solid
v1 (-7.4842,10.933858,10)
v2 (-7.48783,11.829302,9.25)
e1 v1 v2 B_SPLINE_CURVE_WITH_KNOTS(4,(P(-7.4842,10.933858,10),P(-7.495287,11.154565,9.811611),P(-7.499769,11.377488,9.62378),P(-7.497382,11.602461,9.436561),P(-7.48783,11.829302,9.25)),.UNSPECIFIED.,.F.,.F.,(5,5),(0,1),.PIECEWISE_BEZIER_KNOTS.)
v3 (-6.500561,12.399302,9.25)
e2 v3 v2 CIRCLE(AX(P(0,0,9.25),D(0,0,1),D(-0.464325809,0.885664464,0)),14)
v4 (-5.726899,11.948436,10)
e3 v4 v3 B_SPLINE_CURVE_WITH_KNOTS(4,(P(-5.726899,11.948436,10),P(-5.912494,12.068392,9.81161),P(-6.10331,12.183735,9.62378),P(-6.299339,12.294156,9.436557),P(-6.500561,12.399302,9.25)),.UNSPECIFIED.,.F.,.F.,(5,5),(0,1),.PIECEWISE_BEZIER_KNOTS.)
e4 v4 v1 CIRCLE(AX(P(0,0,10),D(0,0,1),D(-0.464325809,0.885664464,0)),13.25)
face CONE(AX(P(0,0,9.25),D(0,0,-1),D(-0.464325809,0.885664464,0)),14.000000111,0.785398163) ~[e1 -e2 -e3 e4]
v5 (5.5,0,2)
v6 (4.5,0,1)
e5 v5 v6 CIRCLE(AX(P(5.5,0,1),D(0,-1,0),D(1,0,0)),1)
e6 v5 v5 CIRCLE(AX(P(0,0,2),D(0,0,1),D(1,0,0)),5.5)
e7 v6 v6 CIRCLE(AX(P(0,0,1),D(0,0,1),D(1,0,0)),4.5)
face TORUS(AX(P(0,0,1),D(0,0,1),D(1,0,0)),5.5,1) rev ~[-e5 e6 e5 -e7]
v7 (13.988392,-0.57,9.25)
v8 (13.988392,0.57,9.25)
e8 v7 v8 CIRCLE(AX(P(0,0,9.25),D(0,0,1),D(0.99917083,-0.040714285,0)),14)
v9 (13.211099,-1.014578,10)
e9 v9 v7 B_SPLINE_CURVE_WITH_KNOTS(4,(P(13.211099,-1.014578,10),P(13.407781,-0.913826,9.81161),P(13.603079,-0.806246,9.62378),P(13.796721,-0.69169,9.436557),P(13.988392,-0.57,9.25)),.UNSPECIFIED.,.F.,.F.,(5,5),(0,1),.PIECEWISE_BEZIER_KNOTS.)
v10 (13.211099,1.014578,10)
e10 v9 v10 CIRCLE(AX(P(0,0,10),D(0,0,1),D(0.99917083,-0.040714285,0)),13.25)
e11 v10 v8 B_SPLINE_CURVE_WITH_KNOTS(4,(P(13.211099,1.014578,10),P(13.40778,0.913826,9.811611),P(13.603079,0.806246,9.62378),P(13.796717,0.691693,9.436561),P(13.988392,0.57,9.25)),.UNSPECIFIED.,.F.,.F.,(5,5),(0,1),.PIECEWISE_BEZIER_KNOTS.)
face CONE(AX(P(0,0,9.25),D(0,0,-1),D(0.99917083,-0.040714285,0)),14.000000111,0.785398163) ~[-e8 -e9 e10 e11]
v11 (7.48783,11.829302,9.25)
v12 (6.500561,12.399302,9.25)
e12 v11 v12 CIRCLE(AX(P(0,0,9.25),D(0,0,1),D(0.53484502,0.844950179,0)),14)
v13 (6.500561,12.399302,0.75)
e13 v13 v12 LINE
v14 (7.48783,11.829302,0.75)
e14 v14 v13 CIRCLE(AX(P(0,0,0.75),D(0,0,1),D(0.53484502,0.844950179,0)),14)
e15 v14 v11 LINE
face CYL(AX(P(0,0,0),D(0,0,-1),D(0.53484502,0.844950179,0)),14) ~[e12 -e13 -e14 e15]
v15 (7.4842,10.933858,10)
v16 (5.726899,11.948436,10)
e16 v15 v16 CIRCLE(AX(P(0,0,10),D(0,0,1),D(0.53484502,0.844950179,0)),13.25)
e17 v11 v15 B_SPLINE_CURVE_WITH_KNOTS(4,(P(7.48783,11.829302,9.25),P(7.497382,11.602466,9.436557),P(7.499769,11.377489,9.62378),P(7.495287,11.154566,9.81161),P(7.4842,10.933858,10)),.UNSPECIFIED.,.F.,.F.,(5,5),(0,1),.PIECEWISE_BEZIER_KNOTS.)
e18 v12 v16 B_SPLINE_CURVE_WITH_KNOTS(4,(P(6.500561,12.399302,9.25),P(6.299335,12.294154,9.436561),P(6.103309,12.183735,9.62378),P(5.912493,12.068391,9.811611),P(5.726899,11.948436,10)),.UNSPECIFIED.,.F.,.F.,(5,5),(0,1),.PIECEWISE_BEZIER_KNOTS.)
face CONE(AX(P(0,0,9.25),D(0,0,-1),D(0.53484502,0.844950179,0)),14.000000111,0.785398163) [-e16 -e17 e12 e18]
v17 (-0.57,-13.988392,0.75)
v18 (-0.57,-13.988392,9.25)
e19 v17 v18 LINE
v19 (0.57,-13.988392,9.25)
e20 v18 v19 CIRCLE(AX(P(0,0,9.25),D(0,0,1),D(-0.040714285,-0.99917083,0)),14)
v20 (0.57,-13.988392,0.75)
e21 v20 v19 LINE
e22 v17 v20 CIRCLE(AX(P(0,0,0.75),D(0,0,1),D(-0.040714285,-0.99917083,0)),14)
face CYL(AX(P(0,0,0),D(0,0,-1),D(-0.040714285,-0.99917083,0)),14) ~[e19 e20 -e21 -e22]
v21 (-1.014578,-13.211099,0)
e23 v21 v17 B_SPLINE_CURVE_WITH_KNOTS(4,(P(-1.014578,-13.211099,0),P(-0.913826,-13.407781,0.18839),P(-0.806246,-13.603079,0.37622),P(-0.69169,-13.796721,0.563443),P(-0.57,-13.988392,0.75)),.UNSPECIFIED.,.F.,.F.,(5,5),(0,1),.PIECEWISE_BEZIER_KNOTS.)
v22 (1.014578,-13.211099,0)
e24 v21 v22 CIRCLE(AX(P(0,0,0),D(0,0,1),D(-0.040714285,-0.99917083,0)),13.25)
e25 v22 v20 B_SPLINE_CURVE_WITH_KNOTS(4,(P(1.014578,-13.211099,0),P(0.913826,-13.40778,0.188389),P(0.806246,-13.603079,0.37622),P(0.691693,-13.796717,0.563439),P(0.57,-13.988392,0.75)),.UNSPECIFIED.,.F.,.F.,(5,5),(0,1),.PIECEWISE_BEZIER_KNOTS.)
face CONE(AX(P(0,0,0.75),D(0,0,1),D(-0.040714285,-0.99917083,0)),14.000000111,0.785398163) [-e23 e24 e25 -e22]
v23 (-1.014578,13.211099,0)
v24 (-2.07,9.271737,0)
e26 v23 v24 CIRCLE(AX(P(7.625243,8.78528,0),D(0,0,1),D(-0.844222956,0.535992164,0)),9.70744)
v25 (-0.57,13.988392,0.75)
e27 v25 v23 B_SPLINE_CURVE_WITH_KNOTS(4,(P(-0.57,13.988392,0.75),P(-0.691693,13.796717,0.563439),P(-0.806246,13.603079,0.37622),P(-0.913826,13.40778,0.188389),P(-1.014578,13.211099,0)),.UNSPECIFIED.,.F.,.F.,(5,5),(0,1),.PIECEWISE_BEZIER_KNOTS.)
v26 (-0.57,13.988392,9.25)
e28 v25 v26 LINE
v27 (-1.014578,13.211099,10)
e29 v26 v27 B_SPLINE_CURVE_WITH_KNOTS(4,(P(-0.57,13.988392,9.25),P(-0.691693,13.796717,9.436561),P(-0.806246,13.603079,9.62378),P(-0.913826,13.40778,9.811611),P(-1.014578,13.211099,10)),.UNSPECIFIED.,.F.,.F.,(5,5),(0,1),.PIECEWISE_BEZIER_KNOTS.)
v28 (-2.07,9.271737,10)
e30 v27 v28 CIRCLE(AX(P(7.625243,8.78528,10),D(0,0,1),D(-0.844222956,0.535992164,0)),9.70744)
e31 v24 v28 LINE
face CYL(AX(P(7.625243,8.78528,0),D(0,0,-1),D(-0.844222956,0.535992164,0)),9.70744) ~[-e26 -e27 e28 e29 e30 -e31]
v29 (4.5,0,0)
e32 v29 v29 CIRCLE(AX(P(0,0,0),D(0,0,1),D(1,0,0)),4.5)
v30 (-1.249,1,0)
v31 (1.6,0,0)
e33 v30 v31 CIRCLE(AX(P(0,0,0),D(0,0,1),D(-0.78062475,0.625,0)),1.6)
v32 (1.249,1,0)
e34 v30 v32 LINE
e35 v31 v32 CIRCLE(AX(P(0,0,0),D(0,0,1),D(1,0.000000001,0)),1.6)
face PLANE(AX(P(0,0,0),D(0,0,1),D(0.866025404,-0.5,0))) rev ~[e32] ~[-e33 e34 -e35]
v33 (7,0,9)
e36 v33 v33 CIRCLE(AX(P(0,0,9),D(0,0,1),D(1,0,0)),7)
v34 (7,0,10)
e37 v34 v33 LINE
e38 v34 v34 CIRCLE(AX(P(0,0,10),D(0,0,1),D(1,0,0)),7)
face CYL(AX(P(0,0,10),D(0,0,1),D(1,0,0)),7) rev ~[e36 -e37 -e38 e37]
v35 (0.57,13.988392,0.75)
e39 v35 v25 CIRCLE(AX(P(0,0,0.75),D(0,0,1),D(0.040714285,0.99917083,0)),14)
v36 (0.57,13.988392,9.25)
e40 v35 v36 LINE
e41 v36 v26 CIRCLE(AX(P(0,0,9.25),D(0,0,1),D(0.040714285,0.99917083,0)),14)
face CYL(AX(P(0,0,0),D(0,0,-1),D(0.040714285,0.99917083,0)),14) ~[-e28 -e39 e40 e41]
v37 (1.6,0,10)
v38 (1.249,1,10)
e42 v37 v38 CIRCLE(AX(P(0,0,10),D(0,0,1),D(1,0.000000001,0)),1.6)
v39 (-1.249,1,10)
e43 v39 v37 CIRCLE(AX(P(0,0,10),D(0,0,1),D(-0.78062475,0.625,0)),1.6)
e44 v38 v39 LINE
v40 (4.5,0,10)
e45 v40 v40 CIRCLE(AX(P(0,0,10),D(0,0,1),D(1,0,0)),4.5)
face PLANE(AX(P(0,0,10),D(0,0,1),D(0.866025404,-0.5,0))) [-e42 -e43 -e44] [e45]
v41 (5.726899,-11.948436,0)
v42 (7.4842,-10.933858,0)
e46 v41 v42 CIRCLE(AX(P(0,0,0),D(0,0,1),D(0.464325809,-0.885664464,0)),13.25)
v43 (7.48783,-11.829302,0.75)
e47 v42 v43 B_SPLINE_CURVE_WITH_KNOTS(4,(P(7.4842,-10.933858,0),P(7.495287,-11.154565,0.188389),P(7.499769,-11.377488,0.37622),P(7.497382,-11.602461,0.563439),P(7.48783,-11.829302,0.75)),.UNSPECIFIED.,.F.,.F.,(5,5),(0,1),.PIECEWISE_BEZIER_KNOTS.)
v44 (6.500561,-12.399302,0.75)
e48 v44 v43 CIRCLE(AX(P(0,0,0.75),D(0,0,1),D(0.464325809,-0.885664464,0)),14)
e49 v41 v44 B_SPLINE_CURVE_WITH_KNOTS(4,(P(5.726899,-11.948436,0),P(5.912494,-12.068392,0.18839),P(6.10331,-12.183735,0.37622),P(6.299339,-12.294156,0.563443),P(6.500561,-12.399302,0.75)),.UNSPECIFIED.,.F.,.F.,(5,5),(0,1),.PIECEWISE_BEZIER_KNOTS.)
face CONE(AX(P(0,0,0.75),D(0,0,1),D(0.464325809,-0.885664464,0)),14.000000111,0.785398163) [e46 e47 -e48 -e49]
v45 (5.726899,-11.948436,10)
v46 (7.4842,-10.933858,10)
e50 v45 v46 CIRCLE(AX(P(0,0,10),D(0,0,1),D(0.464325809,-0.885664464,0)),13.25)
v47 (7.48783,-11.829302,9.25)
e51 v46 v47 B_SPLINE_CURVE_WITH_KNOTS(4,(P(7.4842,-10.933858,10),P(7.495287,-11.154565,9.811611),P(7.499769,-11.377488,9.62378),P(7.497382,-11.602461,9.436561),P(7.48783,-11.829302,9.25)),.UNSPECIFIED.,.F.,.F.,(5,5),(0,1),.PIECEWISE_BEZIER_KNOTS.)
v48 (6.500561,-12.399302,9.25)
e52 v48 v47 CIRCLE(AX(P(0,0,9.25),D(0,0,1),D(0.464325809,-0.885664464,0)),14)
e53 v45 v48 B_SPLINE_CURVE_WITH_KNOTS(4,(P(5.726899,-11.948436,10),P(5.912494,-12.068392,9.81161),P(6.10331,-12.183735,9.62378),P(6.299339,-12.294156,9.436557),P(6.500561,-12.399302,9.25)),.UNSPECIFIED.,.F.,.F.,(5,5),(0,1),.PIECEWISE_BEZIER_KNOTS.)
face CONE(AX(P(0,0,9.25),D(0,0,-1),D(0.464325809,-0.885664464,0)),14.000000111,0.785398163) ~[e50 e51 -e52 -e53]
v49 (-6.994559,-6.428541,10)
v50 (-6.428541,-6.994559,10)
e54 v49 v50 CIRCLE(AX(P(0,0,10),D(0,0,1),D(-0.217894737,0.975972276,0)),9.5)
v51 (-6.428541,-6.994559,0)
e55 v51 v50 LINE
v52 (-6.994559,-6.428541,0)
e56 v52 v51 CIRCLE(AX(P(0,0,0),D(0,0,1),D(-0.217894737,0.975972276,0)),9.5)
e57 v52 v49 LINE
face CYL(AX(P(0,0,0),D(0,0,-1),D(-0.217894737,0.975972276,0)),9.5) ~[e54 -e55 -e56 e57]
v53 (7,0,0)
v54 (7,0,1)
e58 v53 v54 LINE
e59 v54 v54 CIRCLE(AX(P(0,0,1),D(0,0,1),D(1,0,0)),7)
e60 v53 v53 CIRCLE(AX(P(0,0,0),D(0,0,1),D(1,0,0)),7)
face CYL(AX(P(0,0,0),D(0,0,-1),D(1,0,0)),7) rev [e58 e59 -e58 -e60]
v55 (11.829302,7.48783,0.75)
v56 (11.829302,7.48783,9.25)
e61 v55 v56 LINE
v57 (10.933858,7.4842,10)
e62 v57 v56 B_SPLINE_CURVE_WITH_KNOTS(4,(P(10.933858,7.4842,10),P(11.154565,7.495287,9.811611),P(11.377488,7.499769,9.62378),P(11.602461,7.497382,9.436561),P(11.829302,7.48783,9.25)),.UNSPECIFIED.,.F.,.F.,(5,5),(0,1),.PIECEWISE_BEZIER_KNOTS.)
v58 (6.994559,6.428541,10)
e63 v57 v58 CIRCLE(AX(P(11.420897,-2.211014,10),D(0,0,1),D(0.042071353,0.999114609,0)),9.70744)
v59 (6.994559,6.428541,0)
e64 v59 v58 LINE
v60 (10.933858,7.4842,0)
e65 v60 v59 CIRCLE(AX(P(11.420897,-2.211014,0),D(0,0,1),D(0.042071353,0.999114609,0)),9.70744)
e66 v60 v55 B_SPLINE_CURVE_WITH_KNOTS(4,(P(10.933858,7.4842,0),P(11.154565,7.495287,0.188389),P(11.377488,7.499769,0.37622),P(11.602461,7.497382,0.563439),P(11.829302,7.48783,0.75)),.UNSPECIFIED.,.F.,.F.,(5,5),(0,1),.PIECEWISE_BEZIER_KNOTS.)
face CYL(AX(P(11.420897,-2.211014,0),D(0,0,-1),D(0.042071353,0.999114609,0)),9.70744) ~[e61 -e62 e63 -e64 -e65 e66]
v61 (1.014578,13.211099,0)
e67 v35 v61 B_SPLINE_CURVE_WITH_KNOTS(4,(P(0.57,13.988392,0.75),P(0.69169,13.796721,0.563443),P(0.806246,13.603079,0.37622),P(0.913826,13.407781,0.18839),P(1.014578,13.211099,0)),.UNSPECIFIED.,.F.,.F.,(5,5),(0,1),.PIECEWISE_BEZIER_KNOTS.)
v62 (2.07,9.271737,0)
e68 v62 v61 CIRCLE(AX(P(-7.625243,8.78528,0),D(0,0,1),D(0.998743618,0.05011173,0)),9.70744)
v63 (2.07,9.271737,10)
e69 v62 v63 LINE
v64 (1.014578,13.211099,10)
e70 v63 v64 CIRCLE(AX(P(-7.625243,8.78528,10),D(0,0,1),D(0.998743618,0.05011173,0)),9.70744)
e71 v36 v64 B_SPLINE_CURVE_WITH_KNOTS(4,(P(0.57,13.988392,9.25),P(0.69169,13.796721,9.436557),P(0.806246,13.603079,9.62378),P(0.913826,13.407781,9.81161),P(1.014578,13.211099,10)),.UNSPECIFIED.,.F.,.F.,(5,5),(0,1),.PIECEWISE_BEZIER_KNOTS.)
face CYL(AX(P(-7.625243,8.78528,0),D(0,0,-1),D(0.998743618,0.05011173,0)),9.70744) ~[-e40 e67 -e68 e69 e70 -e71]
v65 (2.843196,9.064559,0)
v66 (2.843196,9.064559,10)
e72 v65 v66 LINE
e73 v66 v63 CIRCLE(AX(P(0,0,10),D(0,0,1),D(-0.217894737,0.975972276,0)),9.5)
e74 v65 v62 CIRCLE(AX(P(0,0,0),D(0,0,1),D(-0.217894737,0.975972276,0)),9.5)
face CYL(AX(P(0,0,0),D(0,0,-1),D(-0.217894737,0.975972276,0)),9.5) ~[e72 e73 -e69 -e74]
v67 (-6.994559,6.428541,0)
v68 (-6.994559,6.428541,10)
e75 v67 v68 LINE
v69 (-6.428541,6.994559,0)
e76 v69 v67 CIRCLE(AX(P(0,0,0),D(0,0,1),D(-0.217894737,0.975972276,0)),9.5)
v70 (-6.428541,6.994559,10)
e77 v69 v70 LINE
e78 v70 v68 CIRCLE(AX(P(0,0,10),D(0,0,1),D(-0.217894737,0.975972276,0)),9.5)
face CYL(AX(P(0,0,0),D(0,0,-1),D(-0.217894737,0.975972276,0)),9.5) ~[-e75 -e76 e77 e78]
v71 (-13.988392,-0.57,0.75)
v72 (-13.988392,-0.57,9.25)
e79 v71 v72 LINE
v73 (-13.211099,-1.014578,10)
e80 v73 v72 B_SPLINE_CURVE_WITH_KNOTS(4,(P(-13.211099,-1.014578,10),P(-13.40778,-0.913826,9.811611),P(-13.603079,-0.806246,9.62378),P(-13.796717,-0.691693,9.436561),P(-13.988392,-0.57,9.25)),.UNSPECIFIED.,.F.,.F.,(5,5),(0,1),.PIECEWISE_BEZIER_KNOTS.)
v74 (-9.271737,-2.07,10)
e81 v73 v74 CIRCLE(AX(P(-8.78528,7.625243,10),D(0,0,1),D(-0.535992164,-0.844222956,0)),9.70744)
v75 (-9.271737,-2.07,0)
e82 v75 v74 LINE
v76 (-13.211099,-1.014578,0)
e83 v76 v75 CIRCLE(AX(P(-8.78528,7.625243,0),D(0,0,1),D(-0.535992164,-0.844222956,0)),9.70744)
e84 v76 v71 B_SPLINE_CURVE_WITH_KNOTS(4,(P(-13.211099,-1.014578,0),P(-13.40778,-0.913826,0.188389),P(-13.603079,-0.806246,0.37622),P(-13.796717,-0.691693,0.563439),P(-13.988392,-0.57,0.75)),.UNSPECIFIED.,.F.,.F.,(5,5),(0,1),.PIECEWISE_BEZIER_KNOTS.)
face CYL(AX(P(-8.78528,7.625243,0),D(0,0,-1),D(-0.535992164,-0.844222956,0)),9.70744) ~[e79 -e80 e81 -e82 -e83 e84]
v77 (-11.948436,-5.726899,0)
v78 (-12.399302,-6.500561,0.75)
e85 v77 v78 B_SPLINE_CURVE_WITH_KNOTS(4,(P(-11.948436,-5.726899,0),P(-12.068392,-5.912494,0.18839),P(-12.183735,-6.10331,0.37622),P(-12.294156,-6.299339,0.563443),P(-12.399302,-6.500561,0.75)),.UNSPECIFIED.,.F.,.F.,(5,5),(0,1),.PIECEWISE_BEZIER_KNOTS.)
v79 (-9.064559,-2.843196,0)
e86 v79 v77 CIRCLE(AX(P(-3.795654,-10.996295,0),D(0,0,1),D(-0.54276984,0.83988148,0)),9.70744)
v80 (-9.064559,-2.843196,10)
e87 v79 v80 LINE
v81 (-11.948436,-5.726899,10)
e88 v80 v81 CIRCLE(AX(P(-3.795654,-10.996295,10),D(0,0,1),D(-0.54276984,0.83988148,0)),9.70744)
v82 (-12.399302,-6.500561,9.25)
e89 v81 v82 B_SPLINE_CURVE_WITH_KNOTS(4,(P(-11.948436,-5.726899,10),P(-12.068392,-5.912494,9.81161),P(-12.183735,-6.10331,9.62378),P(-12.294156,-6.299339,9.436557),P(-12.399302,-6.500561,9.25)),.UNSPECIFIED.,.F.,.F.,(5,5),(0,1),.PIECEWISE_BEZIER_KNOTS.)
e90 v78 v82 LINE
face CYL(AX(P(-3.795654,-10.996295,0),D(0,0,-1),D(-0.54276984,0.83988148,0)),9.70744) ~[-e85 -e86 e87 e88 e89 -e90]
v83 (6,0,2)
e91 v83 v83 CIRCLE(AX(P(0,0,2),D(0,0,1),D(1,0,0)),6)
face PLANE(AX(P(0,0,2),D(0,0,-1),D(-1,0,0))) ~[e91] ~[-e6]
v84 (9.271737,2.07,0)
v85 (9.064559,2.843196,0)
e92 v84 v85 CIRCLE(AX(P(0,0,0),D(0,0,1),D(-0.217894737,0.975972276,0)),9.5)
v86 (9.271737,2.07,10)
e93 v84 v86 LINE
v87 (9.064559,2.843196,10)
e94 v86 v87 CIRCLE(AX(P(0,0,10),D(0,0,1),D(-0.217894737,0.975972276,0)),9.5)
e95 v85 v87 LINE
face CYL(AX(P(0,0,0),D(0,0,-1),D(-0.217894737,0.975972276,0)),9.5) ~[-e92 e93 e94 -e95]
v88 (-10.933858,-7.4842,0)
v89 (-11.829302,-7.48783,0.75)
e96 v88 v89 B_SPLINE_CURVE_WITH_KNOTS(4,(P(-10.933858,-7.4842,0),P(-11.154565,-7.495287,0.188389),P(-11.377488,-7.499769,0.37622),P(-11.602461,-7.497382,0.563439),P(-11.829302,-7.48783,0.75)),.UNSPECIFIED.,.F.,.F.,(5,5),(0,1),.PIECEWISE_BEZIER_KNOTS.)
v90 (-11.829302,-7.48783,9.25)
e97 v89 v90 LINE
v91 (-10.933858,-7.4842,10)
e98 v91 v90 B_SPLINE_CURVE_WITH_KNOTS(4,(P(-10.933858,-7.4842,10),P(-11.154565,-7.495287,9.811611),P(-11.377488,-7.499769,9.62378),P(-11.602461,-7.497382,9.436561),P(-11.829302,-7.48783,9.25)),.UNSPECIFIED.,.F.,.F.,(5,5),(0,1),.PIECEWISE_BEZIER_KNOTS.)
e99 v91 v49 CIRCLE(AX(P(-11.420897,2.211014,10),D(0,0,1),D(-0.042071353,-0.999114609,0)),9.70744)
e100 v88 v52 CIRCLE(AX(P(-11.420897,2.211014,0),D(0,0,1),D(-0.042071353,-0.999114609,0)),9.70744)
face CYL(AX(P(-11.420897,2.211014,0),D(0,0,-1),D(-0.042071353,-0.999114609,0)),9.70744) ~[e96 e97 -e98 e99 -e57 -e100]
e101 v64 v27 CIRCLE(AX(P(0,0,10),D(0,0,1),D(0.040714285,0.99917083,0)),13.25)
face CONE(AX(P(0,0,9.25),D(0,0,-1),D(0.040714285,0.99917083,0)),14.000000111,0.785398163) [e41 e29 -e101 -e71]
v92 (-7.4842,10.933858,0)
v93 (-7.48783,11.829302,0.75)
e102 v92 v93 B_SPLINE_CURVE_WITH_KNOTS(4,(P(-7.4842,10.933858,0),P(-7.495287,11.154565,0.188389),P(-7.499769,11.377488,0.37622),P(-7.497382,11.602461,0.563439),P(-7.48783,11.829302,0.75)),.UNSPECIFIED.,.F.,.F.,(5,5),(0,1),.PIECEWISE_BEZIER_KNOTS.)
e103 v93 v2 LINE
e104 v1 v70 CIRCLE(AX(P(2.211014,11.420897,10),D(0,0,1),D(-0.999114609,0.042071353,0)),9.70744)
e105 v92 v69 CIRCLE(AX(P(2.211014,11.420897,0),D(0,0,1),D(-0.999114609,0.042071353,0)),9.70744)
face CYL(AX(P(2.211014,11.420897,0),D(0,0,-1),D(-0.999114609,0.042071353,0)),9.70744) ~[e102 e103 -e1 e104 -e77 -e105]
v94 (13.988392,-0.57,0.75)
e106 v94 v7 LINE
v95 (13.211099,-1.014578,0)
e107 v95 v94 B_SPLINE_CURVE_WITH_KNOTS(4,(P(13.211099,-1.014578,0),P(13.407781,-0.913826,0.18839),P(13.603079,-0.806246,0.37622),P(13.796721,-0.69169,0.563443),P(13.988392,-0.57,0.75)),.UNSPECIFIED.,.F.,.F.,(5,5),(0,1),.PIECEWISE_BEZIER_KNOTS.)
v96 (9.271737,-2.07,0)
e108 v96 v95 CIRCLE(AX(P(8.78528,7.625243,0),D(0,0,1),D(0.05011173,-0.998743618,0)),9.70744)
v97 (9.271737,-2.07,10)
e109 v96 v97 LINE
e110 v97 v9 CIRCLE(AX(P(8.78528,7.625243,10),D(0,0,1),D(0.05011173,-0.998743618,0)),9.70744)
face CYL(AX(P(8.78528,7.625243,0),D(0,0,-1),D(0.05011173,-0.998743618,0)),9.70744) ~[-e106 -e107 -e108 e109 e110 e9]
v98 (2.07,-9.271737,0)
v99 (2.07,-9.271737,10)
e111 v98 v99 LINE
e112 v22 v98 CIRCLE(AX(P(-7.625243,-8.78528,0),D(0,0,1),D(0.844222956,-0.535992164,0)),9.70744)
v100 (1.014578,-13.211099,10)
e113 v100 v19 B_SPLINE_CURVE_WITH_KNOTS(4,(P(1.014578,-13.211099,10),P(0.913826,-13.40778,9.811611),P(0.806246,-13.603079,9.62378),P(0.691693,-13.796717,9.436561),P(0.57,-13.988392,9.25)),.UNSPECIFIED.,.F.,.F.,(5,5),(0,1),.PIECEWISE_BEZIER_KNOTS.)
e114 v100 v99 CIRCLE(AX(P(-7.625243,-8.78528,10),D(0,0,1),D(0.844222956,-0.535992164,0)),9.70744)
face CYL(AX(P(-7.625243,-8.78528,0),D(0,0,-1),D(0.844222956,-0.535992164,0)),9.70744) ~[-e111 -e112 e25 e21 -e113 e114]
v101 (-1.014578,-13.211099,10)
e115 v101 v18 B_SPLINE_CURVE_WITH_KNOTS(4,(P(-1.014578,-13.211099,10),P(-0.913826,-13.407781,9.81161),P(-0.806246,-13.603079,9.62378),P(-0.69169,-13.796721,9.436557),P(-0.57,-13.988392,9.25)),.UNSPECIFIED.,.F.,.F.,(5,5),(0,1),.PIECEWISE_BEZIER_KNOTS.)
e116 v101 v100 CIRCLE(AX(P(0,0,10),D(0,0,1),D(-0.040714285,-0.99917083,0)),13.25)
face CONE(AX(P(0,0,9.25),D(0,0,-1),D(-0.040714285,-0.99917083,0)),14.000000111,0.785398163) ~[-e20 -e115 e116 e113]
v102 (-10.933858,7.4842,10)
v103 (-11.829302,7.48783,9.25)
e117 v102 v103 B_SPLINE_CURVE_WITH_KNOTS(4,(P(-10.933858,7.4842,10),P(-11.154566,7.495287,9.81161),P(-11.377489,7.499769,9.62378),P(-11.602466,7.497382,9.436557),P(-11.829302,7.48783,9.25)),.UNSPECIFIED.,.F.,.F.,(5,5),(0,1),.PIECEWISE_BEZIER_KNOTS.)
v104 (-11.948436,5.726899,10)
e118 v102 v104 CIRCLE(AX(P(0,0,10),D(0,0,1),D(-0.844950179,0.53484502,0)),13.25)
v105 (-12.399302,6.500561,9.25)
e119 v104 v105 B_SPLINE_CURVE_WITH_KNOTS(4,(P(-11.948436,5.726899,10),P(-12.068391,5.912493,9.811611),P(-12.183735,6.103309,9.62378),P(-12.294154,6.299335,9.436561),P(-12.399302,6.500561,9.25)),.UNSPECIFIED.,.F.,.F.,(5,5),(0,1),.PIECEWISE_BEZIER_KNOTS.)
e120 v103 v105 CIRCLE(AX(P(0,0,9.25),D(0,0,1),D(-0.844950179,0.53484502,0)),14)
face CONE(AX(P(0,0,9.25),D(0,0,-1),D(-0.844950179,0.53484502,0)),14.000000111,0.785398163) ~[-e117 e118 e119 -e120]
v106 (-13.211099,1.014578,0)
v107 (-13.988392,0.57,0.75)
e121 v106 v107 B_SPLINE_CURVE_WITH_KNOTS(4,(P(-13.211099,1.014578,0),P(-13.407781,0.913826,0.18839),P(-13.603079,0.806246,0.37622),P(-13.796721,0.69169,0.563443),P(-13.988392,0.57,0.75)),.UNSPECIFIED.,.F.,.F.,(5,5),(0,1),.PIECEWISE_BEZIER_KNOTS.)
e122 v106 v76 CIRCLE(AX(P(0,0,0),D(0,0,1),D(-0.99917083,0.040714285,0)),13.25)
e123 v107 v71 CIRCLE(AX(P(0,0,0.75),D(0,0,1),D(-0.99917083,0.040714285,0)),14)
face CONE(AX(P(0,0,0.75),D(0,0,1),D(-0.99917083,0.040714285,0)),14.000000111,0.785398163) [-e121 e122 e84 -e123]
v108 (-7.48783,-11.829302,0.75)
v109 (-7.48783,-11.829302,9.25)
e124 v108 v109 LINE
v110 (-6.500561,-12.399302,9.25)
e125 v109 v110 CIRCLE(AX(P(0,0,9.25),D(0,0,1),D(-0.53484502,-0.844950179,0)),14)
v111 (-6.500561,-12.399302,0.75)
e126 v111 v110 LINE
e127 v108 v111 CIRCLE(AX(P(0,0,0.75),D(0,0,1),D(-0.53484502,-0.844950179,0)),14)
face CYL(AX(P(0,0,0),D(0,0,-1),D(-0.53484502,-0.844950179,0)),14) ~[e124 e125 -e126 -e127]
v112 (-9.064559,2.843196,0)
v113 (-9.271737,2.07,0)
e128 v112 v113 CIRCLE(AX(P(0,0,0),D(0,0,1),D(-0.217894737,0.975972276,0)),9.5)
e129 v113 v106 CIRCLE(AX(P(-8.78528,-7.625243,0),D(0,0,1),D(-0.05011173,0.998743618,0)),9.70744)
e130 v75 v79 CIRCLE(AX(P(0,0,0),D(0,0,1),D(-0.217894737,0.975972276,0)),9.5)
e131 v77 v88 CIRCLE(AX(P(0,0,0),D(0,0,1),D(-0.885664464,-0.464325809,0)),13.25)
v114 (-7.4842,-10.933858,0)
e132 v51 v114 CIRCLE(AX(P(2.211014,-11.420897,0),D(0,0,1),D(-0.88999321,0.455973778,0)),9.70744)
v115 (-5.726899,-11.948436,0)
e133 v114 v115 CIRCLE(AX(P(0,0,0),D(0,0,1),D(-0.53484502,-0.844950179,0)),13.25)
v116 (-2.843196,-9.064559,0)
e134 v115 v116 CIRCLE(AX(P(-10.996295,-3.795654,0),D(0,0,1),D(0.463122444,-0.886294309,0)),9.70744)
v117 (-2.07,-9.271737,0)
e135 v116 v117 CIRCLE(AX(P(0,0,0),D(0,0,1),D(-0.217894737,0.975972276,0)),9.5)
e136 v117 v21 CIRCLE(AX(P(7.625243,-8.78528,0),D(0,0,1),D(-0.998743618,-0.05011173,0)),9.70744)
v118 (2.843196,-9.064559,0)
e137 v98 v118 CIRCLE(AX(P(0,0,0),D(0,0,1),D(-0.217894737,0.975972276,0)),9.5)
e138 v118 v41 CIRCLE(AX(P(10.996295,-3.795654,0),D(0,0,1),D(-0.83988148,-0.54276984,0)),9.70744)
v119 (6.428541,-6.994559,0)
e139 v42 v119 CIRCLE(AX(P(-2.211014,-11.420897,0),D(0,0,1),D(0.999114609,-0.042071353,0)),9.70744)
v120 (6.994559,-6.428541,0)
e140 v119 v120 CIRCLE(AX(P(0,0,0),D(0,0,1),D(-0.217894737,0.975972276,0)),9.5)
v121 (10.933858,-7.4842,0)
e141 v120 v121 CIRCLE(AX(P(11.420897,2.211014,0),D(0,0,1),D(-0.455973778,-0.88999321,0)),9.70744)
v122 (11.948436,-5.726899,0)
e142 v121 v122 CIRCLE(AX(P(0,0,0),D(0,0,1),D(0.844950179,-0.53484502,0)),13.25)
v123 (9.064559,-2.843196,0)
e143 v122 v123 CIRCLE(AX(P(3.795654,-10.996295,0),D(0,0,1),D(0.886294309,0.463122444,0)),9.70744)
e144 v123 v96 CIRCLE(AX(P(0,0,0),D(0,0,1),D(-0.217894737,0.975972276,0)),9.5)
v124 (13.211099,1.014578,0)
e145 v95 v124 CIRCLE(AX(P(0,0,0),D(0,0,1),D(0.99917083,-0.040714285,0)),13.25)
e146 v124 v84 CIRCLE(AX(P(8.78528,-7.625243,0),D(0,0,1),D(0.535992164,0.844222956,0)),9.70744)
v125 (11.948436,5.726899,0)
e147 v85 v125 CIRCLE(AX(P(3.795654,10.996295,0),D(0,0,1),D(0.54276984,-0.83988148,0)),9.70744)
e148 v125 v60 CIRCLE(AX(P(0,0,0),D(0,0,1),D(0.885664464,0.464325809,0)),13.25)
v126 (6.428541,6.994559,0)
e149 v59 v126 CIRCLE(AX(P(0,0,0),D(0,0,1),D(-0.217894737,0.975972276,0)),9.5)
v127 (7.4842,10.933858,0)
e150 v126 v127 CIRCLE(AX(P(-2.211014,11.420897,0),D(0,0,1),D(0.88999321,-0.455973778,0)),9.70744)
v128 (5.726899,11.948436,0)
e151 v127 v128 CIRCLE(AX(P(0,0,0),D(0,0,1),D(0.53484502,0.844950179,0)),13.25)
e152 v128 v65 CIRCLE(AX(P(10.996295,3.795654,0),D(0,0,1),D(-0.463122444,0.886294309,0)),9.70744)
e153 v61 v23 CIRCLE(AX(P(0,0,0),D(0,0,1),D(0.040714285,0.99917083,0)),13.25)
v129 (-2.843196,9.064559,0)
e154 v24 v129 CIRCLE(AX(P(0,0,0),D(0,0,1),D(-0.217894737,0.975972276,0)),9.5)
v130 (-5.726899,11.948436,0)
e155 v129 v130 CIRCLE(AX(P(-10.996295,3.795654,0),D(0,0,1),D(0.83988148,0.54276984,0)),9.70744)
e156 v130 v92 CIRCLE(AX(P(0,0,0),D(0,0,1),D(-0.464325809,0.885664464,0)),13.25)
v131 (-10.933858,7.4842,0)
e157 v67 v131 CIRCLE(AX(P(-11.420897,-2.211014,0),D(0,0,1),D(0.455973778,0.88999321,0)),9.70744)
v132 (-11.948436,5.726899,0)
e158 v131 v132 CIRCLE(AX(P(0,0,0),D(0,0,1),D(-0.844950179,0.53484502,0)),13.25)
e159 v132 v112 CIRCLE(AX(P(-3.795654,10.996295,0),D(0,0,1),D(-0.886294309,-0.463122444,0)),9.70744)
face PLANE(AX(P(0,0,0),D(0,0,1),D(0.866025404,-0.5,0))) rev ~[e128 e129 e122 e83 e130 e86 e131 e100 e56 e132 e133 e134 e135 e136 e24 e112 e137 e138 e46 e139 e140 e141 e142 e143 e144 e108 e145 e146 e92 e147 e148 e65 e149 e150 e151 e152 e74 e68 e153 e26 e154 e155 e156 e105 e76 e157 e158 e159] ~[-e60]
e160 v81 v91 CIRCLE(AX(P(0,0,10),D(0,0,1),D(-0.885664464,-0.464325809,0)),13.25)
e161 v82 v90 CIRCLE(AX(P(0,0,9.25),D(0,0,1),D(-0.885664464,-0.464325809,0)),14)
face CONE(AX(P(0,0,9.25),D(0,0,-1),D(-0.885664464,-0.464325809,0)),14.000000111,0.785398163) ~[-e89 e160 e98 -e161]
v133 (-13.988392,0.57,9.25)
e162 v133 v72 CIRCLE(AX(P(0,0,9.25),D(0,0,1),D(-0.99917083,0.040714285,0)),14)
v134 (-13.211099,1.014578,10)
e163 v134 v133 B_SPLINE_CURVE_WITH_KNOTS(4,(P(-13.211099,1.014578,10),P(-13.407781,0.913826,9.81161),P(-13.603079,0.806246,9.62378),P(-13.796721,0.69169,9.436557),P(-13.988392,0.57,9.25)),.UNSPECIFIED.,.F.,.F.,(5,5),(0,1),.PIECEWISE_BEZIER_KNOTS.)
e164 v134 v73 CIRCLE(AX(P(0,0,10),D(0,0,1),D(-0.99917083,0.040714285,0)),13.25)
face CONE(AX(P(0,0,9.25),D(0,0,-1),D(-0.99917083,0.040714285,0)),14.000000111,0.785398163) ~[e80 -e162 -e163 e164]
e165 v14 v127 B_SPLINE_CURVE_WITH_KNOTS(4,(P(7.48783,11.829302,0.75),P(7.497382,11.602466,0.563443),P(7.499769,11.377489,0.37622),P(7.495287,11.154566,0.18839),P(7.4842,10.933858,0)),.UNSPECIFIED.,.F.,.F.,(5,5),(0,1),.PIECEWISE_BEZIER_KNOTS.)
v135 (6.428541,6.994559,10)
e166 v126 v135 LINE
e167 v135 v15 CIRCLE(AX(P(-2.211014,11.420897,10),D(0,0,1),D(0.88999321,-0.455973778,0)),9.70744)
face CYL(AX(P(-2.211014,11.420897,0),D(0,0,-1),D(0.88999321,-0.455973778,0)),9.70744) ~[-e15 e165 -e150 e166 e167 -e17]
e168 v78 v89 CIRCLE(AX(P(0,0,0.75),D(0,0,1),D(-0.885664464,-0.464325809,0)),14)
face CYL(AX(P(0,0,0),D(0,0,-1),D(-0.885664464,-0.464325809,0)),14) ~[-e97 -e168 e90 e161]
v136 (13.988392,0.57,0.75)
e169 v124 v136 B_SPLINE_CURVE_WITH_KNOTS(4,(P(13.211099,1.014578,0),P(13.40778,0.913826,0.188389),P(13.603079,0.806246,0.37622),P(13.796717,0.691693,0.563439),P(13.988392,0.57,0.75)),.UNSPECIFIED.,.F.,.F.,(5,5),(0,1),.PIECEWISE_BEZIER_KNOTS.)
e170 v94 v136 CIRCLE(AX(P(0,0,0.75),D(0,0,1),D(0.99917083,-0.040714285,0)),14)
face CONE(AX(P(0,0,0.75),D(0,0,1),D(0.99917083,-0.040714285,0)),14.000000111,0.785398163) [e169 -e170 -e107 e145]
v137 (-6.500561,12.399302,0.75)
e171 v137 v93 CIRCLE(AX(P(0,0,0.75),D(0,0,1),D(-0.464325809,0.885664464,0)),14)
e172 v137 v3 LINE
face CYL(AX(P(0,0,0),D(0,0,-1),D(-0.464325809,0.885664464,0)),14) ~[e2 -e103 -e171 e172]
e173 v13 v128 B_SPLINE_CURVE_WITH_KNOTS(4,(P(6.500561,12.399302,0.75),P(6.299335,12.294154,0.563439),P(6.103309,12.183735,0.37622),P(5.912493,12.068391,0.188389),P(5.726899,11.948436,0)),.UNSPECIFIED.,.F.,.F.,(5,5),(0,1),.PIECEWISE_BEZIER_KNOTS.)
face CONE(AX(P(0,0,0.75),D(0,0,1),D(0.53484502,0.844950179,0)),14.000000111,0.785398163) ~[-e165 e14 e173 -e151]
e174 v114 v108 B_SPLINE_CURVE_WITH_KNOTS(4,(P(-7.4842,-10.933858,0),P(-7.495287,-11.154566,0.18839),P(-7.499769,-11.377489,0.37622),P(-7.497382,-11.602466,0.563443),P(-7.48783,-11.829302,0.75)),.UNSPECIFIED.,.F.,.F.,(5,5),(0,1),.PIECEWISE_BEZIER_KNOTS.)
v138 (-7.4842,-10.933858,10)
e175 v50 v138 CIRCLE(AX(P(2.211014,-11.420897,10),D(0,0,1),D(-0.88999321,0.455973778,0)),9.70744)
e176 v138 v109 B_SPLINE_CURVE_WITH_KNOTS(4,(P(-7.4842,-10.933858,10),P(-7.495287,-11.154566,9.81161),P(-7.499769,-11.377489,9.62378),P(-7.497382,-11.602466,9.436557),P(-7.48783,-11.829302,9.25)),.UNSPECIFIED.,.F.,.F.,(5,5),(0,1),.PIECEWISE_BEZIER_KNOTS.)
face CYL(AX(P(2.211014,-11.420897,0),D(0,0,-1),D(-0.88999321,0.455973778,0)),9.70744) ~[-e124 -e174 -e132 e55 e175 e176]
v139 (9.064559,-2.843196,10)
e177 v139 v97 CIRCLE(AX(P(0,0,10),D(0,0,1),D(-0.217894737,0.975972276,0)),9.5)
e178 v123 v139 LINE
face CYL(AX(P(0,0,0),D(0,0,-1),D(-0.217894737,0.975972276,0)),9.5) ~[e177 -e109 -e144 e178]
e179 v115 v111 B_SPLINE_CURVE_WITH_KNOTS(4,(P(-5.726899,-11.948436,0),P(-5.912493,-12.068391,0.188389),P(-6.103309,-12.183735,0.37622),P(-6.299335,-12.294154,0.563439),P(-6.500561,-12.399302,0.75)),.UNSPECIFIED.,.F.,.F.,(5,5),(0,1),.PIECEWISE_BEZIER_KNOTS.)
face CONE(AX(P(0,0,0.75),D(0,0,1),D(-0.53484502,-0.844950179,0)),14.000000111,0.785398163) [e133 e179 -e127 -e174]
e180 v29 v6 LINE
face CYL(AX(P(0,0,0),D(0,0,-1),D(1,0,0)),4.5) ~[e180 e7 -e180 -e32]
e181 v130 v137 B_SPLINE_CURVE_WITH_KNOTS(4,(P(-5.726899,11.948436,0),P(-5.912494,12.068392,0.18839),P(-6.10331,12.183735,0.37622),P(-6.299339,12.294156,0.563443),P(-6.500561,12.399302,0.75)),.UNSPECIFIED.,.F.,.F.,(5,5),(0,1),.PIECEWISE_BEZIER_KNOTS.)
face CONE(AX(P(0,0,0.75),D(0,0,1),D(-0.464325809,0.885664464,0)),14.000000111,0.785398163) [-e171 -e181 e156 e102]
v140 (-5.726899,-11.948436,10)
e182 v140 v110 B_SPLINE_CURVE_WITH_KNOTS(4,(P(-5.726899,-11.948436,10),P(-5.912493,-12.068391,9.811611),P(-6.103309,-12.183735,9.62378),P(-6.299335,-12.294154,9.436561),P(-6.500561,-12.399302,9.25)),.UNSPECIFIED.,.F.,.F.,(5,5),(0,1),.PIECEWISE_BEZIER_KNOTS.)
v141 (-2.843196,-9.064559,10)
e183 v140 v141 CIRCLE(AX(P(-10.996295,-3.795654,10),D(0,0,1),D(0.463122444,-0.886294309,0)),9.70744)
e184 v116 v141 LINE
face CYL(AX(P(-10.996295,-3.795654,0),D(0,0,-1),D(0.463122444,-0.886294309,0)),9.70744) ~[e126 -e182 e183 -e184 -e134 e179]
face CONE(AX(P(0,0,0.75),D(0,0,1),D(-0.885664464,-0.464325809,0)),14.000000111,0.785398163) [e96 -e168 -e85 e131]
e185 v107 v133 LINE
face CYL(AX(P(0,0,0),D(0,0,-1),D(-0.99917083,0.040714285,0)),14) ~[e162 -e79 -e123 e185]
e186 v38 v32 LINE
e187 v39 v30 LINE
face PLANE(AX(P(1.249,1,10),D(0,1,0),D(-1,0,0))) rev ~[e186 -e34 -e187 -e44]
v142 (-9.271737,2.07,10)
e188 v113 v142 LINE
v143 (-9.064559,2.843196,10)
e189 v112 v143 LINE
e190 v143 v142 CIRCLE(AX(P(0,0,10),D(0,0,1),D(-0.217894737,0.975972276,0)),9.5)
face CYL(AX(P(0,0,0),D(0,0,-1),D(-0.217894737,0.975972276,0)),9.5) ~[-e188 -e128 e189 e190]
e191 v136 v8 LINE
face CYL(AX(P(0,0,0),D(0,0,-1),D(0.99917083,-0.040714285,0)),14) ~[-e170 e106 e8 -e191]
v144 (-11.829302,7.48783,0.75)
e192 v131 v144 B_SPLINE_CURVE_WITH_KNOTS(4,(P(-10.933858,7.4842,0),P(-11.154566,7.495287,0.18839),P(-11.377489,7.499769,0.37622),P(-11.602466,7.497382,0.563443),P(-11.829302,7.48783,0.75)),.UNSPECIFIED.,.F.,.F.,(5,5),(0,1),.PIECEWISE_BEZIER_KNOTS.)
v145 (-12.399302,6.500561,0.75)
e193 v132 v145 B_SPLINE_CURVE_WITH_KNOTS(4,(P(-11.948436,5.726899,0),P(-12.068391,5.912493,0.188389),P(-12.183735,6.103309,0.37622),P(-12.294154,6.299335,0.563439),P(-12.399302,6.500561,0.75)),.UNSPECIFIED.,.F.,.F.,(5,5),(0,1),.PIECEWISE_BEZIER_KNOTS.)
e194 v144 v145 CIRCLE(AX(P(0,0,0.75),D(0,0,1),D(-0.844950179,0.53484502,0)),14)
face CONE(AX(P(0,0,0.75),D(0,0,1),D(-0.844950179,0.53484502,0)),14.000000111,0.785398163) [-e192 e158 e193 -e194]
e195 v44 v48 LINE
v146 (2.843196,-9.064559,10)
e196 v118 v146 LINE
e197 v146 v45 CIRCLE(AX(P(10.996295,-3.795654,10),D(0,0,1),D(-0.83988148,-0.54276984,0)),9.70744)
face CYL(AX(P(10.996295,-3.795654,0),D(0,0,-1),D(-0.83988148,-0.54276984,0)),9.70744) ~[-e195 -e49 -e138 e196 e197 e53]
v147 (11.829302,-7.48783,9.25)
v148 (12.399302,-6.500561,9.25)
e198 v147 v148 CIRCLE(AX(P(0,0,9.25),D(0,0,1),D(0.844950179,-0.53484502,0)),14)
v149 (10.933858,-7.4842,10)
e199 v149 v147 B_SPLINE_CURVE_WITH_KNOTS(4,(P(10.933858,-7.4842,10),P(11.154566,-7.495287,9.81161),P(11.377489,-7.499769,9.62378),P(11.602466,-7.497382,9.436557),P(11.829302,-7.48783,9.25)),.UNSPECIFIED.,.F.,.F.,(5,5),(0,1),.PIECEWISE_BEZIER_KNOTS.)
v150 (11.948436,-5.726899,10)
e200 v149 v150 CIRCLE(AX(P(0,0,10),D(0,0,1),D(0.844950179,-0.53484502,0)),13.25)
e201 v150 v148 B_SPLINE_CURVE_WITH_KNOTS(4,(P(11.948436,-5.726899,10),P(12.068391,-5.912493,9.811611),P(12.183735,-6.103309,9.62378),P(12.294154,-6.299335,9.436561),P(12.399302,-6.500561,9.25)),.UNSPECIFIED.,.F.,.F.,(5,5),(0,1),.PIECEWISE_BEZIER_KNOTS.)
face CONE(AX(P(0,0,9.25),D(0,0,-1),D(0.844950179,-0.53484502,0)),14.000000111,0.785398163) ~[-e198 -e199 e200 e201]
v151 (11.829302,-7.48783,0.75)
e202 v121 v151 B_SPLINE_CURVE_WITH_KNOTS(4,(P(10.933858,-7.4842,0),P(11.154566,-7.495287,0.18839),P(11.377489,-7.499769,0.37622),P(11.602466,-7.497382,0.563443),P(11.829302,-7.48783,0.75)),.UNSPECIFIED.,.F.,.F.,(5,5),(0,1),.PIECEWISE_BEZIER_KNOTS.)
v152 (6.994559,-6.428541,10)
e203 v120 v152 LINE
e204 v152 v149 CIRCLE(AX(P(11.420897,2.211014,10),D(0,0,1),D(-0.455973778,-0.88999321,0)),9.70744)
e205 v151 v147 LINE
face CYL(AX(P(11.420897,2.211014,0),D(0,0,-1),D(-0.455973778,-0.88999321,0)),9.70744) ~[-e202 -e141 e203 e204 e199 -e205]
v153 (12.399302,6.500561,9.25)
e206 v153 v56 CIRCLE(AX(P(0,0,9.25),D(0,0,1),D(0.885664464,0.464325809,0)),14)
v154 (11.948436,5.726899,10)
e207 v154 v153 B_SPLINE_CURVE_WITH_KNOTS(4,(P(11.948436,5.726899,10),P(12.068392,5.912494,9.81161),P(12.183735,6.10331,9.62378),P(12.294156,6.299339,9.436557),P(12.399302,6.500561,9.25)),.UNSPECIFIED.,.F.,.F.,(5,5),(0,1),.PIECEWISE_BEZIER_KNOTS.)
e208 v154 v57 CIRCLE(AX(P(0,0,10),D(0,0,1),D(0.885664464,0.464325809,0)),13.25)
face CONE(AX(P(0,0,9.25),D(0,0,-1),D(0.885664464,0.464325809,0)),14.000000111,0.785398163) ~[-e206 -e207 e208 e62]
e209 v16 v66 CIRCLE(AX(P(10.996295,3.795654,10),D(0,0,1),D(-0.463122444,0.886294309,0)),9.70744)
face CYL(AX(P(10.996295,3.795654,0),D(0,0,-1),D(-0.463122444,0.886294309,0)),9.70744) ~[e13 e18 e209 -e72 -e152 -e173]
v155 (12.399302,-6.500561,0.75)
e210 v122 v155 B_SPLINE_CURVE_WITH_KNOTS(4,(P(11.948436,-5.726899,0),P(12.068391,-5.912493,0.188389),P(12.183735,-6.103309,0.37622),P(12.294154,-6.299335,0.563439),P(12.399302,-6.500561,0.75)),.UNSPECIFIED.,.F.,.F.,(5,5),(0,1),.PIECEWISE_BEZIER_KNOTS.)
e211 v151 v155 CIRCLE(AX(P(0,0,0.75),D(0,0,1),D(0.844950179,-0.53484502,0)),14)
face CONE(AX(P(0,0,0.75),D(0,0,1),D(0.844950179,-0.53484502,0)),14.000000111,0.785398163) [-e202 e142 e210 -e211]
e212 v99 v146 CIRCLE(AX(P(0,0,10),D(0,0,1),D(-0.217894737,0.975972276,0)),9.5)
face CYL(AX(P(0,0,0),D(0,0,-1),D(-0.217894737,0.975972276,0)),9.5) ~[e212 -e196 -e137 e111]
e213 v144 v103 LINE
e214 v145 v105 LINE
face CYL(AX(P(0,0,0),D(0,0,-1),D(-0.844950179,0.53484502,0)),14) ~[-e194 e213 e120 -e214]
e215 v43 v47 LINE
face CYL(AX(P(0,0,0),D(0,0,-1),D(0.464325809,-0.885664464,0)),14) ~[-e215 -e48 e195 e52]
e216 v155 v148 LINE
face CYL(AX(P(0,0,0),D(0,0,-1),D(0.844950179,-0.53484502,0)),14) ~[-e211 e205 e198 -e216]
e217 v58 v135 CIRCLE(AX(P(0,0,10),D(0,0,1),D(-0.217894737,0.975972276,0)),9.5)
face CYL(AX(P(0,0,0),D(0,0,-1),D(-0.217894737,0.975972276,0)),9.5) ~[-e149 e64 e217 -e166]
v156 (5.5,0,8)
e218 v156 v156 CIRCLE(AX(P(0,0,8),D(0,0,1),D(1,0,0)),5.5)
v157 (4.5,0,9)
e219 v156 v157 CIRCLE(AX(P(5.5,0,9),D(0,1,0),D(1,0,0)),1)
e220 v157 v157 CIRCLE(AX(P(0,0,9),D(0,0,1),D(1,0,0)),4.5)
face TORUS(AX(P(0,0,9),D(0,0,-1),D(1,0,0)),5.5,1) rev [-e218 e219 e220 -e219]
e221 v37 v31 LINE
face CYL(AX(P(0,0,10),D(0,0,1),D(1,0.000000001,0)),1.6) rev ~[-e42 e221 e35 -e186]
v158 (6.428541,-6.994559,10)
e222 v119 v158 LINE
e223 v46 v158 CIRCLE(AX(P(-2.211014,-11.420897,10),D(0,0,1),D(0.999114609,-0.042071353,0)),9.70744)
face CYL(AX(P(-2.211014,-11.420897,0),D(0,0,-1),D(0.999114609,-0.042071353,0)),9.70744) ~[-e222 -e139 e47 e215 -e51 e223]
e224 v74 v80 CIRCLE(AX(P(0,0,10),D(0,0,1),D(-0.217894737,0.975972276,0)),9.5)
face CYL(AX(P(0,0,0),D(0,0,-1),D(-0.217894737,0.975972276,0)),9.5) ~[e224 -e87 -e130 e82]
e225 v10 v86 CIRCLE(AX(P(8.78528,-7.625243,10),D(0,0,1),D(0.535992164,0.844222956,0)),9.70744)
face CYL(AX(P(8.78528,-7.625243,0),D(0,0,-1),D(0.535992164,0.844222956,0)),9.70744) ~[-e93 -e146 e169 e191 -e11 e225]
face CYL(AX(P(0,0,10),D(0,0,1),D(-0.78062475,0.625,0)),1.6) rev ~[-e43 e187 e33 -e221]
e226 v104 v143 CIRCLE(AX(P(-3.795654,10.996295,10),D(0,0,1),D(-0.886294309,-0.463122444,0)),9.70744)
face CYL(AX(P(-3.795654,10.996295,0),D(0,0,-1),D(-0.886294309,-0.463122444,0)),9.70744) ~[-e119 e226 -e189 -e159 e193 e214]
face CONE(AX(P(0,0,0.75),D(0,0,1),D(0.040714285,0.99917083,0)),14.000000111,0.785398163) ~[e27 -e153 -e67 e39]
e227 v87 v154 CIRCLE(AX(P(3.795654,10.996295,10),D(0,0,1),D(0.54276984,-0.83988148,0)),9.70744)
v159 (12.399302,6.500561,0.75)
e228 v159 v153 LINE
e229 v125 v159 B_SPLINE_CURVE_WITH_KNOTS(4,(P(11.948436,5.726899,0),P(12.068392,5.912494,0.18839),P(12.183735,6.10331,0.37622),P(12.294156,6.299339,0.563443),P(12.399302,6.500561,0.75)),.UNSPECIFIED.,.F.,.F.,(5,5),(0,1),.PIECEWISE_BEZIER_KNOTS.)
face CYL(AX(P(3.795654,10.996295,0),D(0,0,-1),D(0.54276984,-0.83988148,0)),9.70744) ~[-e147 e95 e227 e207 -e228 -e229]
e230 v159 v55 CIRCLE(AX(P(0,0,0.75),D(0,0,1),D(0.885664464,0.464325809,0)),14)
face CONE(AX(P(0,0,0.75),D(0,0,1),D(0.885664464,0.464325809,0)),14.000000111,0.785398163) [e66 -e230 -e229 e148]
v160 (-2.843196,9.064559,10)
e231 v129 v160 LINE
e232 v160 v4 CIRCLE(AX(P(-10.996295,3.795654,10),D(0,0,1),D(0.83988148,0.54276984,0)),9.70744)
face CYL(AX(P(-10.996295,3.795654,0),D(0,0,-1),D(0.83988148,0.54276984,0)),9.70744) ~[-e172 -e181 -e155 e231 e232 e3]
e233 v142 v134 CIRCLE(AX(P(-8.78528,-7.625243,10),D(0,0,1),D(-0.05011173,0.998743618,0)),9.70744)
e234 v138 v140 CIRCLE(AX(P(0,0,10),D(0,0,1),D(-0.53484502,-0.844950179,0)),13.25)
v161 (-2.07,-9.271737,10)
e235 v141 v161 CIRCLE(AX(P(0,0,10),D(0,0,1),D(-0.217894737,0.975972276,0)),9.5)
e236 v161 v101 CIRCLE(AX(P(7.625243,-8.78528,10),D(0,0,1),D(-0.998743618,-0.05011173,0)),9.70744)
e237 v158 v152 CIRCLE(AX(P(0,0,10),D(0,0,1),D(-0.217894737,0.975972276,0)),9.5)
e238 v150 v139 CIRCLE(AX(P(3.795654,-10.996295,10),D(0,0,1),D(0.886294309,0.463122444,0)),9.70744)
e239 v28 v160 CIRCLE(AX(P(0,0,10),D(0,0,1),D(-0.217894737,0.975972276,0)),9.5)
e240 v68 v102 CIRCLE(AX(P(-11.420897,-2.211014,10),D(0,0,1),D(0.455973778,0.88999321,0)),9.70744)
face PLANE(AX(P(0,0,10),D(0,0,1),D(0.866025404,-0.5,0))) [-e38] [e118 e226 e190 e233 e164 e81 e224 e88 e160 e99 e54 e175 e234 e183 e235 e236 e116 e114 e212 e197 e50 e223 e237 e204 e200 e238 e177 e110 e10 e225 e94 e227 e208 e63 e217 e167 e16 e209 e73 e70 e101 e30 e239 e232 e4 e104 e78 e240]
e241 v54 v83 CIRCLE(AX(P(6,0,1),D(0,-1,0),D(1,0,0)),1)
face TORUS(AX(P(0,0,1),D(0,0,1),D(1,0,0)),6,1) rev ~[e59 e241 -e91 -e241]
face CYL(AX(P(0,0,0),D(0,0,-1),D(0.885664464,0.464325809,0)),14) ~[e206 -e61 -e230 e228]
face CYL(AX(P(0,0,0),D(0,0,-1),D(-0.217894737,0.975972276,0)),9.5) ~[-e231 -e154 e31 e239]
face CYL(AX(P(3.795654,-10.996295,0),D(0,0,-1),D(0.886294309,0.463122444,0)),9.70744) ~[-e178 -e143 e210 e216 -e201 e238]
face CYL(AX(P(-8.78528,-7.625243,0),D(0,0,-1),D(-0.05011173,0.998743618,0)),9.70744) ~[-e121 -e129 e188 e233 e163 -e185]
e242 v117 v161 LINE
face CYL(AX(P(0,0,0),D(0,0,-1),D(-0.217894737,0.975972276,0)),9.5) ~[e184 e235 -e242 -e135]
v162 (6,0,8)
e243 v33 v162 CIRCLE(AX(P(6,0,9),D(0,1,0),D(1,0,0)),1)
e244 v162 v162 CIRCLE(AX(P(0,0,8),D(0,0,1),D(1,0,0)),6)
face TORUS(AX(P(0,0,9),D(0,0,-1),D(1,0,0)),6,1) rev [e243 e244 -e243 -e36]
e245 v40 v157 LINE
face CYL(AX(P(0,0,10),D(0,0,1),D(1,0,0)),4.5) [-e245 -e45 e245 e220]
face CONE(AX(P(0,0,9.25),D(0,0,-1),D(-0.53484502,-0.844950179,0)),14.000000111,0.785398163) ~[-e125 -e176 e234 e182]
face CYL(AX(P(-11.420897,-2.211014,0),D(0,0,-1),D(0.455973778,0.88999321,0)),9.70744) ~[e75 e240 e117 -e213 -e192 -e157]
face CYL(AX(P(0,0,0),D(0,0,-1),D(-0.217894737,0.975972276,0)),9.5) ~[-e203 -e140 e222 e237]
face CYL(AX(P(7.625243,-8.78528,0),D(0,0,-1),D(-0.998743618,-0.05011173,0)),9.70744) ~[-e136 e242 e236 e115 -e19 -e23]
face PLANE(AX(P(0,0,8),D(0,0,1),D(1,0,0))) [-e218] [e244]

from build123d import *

# Parameters (mm, degrees)
SKETCH1_R                    = 9.5
BOSS_EXTRUDE1_DEPTH          = 10
CHAMFER1_SIZE                = 0.75
CIRPATTERN1_COUNT            = 12
CHAMFER1_OF_CIRPATTERN1_SIZE = 0.75
SKETCH2_R                    = 7
SKETCH2_R_2                  = 4.5
CUT_EXTRUDE1_DEPTH           = 2
FILLET1_R                    = 1
FILLET1_OF_MIRROR1_R         = 1
CUT_EXTRUDE2_REACH           = 12


with BuildPart() as part:
    # Sketch1 → Boss-Extrude1 (new body)
    with BuildSketch(Plane.XY):
        Circle(SKETCH1_R)
        with BuildLine():
            ThreePointArc((-2.07, 9.271736623), (0, 9.5), (2.07, 9.271736623))
            ThreePointArc((2.07, 9.271736623), (1.625653209, 11.72726856), (0.57, 13.988391616))
            ThreePointArc((0.57, 13.988391616), (0, 14), (-0.57, 13.988391616))
            ThreePointArc((-0.57, 13.988391616), (-1.625653209, 11.72726856), (-2.07, 9.271736623))
        make_face()
    boss_extrude1 = extrude(amount=BOSS_EXTRUDE1_DEPTH)

    # Chamfer1
    chamfer1_edges = [part.edges().sort_by_distance(p)[0] for p in [
        (0, 14, 10),
        (0, 14, 0),
    ]]
    chamfer(chamfer1_edges, length=CHAMFER1_SIZE)

    # CirPattern1: Boss-Extrude1 ×12 about axis
    cirpattern1_axis = Axis((0, 0, 0), (0, 0, 1))
    for i in range(1, CIRPATTERN1_COUNT):
        add(boss_extrude1.rotate(cirpattern1_axis, i * 360 / CIRPATTERN1_COUNT))

    # Chamfer1 of CirPattern1
    chamfer1_of_cirpattern1_edges = [part.edges().sort_by_distance(p)[0] for p in [
        (-7, 12.124355653, 10),
        (-7, 12.124355653, 0),
        (-12.124355653, 7, 10),
        (-12.124355653, 7, 0),
        (-14, 0, 10),
        (-14, 0, 0),
        (-12.124355653, -7, 10),
        (-12.124355653, -7, 0),
        (-7, -12.124355653, 10),
        (-7, -12.124355653, 0),
        (0, -14, 10),
        (0, -14, 0),
        (7, -12.124355653, 10),
        (7, -12.124355653, 0),
        (12.124355653, -7, 10),
        (12.124355653, -7, 0),
        (14, 0, 10),
        (14, 0, 0),
        (12.124355653, 7, 10),
        (12.124355653, 7, 0),
        (7, 12.124355653, 10),
        (7, 12.124355653, 0),
    ]]
    chamfer(chamfer1_of_cirpattern1_edges, length=CHAMFER1_OF_CIRPATTERN1_SIZE)

    # Sketch2 → Cut-Extrude1 (cut)
    with BuildSketch(Plane.XY.offset(10)):
        Circle(SKETCH2_R)
        Circle(SKETCH2_R_2, mode=Mode.SUBTRACT)
    cut_extrude1 = extrude(amount=-CUT_EXTRUDE1_DEPTH, mode=Mode.SUBTRACT)

    # Fillet1
    fillet1_edges = [part.edges().sort_by_distance(p)[0] for p in [
        (-7, 0, 8),
        (-4.5, 0, 8),
    ]]
    fillet(fillet1_edges, radius=FILLET1_R)

    # Mirror1: Cut-Extrude1 across plane
    add(cut_extrude1.mirror(Plane.XY.offset(5)), mode=Mode.SUBTRACT)

    # Fillet1 of Mirror1
    fillet1_of_mirror1_edges = [part.edges().sort_by_distance(p)[0] for p in [
        (-7, 0, 2),
        (-4.5, 0, 2),
    ]]
    fillet(fillet1_of_mirror1_edges, radius=FILLET1_OF_MIRROR1_R)

    # Sketch3 → Cut-Extrude2 (cut, up to next)
    with BuildSketch(Plane.XY.offset(10), mode=Mode.PRIVATE) as cut_extrude2_sk1:
        with BuildLine():
            Line((1.2489996, 1), (-1.2489996, 1))
            ThreePointArc((-1.2489996, 1), (-0.529905954, -1.509701851), (1.6, 0))
            ThreePointArc((1.6, 0), (1.509701851, 0.529905954), (1.2489996, 1))
        make_face()
    cut_extrude2_tool1 = extrude(cut_extrude2_sk1.sketch, amount=-CUT_EXTRUDE2_REACH, mode=Mode.PRIVATE) & part.part
    add(cut_extrude2_tool1.solids().sort_by_distance((0, -0.185603, 10))[0], mode=Mode.SUBTRACT)


solid = part.part
